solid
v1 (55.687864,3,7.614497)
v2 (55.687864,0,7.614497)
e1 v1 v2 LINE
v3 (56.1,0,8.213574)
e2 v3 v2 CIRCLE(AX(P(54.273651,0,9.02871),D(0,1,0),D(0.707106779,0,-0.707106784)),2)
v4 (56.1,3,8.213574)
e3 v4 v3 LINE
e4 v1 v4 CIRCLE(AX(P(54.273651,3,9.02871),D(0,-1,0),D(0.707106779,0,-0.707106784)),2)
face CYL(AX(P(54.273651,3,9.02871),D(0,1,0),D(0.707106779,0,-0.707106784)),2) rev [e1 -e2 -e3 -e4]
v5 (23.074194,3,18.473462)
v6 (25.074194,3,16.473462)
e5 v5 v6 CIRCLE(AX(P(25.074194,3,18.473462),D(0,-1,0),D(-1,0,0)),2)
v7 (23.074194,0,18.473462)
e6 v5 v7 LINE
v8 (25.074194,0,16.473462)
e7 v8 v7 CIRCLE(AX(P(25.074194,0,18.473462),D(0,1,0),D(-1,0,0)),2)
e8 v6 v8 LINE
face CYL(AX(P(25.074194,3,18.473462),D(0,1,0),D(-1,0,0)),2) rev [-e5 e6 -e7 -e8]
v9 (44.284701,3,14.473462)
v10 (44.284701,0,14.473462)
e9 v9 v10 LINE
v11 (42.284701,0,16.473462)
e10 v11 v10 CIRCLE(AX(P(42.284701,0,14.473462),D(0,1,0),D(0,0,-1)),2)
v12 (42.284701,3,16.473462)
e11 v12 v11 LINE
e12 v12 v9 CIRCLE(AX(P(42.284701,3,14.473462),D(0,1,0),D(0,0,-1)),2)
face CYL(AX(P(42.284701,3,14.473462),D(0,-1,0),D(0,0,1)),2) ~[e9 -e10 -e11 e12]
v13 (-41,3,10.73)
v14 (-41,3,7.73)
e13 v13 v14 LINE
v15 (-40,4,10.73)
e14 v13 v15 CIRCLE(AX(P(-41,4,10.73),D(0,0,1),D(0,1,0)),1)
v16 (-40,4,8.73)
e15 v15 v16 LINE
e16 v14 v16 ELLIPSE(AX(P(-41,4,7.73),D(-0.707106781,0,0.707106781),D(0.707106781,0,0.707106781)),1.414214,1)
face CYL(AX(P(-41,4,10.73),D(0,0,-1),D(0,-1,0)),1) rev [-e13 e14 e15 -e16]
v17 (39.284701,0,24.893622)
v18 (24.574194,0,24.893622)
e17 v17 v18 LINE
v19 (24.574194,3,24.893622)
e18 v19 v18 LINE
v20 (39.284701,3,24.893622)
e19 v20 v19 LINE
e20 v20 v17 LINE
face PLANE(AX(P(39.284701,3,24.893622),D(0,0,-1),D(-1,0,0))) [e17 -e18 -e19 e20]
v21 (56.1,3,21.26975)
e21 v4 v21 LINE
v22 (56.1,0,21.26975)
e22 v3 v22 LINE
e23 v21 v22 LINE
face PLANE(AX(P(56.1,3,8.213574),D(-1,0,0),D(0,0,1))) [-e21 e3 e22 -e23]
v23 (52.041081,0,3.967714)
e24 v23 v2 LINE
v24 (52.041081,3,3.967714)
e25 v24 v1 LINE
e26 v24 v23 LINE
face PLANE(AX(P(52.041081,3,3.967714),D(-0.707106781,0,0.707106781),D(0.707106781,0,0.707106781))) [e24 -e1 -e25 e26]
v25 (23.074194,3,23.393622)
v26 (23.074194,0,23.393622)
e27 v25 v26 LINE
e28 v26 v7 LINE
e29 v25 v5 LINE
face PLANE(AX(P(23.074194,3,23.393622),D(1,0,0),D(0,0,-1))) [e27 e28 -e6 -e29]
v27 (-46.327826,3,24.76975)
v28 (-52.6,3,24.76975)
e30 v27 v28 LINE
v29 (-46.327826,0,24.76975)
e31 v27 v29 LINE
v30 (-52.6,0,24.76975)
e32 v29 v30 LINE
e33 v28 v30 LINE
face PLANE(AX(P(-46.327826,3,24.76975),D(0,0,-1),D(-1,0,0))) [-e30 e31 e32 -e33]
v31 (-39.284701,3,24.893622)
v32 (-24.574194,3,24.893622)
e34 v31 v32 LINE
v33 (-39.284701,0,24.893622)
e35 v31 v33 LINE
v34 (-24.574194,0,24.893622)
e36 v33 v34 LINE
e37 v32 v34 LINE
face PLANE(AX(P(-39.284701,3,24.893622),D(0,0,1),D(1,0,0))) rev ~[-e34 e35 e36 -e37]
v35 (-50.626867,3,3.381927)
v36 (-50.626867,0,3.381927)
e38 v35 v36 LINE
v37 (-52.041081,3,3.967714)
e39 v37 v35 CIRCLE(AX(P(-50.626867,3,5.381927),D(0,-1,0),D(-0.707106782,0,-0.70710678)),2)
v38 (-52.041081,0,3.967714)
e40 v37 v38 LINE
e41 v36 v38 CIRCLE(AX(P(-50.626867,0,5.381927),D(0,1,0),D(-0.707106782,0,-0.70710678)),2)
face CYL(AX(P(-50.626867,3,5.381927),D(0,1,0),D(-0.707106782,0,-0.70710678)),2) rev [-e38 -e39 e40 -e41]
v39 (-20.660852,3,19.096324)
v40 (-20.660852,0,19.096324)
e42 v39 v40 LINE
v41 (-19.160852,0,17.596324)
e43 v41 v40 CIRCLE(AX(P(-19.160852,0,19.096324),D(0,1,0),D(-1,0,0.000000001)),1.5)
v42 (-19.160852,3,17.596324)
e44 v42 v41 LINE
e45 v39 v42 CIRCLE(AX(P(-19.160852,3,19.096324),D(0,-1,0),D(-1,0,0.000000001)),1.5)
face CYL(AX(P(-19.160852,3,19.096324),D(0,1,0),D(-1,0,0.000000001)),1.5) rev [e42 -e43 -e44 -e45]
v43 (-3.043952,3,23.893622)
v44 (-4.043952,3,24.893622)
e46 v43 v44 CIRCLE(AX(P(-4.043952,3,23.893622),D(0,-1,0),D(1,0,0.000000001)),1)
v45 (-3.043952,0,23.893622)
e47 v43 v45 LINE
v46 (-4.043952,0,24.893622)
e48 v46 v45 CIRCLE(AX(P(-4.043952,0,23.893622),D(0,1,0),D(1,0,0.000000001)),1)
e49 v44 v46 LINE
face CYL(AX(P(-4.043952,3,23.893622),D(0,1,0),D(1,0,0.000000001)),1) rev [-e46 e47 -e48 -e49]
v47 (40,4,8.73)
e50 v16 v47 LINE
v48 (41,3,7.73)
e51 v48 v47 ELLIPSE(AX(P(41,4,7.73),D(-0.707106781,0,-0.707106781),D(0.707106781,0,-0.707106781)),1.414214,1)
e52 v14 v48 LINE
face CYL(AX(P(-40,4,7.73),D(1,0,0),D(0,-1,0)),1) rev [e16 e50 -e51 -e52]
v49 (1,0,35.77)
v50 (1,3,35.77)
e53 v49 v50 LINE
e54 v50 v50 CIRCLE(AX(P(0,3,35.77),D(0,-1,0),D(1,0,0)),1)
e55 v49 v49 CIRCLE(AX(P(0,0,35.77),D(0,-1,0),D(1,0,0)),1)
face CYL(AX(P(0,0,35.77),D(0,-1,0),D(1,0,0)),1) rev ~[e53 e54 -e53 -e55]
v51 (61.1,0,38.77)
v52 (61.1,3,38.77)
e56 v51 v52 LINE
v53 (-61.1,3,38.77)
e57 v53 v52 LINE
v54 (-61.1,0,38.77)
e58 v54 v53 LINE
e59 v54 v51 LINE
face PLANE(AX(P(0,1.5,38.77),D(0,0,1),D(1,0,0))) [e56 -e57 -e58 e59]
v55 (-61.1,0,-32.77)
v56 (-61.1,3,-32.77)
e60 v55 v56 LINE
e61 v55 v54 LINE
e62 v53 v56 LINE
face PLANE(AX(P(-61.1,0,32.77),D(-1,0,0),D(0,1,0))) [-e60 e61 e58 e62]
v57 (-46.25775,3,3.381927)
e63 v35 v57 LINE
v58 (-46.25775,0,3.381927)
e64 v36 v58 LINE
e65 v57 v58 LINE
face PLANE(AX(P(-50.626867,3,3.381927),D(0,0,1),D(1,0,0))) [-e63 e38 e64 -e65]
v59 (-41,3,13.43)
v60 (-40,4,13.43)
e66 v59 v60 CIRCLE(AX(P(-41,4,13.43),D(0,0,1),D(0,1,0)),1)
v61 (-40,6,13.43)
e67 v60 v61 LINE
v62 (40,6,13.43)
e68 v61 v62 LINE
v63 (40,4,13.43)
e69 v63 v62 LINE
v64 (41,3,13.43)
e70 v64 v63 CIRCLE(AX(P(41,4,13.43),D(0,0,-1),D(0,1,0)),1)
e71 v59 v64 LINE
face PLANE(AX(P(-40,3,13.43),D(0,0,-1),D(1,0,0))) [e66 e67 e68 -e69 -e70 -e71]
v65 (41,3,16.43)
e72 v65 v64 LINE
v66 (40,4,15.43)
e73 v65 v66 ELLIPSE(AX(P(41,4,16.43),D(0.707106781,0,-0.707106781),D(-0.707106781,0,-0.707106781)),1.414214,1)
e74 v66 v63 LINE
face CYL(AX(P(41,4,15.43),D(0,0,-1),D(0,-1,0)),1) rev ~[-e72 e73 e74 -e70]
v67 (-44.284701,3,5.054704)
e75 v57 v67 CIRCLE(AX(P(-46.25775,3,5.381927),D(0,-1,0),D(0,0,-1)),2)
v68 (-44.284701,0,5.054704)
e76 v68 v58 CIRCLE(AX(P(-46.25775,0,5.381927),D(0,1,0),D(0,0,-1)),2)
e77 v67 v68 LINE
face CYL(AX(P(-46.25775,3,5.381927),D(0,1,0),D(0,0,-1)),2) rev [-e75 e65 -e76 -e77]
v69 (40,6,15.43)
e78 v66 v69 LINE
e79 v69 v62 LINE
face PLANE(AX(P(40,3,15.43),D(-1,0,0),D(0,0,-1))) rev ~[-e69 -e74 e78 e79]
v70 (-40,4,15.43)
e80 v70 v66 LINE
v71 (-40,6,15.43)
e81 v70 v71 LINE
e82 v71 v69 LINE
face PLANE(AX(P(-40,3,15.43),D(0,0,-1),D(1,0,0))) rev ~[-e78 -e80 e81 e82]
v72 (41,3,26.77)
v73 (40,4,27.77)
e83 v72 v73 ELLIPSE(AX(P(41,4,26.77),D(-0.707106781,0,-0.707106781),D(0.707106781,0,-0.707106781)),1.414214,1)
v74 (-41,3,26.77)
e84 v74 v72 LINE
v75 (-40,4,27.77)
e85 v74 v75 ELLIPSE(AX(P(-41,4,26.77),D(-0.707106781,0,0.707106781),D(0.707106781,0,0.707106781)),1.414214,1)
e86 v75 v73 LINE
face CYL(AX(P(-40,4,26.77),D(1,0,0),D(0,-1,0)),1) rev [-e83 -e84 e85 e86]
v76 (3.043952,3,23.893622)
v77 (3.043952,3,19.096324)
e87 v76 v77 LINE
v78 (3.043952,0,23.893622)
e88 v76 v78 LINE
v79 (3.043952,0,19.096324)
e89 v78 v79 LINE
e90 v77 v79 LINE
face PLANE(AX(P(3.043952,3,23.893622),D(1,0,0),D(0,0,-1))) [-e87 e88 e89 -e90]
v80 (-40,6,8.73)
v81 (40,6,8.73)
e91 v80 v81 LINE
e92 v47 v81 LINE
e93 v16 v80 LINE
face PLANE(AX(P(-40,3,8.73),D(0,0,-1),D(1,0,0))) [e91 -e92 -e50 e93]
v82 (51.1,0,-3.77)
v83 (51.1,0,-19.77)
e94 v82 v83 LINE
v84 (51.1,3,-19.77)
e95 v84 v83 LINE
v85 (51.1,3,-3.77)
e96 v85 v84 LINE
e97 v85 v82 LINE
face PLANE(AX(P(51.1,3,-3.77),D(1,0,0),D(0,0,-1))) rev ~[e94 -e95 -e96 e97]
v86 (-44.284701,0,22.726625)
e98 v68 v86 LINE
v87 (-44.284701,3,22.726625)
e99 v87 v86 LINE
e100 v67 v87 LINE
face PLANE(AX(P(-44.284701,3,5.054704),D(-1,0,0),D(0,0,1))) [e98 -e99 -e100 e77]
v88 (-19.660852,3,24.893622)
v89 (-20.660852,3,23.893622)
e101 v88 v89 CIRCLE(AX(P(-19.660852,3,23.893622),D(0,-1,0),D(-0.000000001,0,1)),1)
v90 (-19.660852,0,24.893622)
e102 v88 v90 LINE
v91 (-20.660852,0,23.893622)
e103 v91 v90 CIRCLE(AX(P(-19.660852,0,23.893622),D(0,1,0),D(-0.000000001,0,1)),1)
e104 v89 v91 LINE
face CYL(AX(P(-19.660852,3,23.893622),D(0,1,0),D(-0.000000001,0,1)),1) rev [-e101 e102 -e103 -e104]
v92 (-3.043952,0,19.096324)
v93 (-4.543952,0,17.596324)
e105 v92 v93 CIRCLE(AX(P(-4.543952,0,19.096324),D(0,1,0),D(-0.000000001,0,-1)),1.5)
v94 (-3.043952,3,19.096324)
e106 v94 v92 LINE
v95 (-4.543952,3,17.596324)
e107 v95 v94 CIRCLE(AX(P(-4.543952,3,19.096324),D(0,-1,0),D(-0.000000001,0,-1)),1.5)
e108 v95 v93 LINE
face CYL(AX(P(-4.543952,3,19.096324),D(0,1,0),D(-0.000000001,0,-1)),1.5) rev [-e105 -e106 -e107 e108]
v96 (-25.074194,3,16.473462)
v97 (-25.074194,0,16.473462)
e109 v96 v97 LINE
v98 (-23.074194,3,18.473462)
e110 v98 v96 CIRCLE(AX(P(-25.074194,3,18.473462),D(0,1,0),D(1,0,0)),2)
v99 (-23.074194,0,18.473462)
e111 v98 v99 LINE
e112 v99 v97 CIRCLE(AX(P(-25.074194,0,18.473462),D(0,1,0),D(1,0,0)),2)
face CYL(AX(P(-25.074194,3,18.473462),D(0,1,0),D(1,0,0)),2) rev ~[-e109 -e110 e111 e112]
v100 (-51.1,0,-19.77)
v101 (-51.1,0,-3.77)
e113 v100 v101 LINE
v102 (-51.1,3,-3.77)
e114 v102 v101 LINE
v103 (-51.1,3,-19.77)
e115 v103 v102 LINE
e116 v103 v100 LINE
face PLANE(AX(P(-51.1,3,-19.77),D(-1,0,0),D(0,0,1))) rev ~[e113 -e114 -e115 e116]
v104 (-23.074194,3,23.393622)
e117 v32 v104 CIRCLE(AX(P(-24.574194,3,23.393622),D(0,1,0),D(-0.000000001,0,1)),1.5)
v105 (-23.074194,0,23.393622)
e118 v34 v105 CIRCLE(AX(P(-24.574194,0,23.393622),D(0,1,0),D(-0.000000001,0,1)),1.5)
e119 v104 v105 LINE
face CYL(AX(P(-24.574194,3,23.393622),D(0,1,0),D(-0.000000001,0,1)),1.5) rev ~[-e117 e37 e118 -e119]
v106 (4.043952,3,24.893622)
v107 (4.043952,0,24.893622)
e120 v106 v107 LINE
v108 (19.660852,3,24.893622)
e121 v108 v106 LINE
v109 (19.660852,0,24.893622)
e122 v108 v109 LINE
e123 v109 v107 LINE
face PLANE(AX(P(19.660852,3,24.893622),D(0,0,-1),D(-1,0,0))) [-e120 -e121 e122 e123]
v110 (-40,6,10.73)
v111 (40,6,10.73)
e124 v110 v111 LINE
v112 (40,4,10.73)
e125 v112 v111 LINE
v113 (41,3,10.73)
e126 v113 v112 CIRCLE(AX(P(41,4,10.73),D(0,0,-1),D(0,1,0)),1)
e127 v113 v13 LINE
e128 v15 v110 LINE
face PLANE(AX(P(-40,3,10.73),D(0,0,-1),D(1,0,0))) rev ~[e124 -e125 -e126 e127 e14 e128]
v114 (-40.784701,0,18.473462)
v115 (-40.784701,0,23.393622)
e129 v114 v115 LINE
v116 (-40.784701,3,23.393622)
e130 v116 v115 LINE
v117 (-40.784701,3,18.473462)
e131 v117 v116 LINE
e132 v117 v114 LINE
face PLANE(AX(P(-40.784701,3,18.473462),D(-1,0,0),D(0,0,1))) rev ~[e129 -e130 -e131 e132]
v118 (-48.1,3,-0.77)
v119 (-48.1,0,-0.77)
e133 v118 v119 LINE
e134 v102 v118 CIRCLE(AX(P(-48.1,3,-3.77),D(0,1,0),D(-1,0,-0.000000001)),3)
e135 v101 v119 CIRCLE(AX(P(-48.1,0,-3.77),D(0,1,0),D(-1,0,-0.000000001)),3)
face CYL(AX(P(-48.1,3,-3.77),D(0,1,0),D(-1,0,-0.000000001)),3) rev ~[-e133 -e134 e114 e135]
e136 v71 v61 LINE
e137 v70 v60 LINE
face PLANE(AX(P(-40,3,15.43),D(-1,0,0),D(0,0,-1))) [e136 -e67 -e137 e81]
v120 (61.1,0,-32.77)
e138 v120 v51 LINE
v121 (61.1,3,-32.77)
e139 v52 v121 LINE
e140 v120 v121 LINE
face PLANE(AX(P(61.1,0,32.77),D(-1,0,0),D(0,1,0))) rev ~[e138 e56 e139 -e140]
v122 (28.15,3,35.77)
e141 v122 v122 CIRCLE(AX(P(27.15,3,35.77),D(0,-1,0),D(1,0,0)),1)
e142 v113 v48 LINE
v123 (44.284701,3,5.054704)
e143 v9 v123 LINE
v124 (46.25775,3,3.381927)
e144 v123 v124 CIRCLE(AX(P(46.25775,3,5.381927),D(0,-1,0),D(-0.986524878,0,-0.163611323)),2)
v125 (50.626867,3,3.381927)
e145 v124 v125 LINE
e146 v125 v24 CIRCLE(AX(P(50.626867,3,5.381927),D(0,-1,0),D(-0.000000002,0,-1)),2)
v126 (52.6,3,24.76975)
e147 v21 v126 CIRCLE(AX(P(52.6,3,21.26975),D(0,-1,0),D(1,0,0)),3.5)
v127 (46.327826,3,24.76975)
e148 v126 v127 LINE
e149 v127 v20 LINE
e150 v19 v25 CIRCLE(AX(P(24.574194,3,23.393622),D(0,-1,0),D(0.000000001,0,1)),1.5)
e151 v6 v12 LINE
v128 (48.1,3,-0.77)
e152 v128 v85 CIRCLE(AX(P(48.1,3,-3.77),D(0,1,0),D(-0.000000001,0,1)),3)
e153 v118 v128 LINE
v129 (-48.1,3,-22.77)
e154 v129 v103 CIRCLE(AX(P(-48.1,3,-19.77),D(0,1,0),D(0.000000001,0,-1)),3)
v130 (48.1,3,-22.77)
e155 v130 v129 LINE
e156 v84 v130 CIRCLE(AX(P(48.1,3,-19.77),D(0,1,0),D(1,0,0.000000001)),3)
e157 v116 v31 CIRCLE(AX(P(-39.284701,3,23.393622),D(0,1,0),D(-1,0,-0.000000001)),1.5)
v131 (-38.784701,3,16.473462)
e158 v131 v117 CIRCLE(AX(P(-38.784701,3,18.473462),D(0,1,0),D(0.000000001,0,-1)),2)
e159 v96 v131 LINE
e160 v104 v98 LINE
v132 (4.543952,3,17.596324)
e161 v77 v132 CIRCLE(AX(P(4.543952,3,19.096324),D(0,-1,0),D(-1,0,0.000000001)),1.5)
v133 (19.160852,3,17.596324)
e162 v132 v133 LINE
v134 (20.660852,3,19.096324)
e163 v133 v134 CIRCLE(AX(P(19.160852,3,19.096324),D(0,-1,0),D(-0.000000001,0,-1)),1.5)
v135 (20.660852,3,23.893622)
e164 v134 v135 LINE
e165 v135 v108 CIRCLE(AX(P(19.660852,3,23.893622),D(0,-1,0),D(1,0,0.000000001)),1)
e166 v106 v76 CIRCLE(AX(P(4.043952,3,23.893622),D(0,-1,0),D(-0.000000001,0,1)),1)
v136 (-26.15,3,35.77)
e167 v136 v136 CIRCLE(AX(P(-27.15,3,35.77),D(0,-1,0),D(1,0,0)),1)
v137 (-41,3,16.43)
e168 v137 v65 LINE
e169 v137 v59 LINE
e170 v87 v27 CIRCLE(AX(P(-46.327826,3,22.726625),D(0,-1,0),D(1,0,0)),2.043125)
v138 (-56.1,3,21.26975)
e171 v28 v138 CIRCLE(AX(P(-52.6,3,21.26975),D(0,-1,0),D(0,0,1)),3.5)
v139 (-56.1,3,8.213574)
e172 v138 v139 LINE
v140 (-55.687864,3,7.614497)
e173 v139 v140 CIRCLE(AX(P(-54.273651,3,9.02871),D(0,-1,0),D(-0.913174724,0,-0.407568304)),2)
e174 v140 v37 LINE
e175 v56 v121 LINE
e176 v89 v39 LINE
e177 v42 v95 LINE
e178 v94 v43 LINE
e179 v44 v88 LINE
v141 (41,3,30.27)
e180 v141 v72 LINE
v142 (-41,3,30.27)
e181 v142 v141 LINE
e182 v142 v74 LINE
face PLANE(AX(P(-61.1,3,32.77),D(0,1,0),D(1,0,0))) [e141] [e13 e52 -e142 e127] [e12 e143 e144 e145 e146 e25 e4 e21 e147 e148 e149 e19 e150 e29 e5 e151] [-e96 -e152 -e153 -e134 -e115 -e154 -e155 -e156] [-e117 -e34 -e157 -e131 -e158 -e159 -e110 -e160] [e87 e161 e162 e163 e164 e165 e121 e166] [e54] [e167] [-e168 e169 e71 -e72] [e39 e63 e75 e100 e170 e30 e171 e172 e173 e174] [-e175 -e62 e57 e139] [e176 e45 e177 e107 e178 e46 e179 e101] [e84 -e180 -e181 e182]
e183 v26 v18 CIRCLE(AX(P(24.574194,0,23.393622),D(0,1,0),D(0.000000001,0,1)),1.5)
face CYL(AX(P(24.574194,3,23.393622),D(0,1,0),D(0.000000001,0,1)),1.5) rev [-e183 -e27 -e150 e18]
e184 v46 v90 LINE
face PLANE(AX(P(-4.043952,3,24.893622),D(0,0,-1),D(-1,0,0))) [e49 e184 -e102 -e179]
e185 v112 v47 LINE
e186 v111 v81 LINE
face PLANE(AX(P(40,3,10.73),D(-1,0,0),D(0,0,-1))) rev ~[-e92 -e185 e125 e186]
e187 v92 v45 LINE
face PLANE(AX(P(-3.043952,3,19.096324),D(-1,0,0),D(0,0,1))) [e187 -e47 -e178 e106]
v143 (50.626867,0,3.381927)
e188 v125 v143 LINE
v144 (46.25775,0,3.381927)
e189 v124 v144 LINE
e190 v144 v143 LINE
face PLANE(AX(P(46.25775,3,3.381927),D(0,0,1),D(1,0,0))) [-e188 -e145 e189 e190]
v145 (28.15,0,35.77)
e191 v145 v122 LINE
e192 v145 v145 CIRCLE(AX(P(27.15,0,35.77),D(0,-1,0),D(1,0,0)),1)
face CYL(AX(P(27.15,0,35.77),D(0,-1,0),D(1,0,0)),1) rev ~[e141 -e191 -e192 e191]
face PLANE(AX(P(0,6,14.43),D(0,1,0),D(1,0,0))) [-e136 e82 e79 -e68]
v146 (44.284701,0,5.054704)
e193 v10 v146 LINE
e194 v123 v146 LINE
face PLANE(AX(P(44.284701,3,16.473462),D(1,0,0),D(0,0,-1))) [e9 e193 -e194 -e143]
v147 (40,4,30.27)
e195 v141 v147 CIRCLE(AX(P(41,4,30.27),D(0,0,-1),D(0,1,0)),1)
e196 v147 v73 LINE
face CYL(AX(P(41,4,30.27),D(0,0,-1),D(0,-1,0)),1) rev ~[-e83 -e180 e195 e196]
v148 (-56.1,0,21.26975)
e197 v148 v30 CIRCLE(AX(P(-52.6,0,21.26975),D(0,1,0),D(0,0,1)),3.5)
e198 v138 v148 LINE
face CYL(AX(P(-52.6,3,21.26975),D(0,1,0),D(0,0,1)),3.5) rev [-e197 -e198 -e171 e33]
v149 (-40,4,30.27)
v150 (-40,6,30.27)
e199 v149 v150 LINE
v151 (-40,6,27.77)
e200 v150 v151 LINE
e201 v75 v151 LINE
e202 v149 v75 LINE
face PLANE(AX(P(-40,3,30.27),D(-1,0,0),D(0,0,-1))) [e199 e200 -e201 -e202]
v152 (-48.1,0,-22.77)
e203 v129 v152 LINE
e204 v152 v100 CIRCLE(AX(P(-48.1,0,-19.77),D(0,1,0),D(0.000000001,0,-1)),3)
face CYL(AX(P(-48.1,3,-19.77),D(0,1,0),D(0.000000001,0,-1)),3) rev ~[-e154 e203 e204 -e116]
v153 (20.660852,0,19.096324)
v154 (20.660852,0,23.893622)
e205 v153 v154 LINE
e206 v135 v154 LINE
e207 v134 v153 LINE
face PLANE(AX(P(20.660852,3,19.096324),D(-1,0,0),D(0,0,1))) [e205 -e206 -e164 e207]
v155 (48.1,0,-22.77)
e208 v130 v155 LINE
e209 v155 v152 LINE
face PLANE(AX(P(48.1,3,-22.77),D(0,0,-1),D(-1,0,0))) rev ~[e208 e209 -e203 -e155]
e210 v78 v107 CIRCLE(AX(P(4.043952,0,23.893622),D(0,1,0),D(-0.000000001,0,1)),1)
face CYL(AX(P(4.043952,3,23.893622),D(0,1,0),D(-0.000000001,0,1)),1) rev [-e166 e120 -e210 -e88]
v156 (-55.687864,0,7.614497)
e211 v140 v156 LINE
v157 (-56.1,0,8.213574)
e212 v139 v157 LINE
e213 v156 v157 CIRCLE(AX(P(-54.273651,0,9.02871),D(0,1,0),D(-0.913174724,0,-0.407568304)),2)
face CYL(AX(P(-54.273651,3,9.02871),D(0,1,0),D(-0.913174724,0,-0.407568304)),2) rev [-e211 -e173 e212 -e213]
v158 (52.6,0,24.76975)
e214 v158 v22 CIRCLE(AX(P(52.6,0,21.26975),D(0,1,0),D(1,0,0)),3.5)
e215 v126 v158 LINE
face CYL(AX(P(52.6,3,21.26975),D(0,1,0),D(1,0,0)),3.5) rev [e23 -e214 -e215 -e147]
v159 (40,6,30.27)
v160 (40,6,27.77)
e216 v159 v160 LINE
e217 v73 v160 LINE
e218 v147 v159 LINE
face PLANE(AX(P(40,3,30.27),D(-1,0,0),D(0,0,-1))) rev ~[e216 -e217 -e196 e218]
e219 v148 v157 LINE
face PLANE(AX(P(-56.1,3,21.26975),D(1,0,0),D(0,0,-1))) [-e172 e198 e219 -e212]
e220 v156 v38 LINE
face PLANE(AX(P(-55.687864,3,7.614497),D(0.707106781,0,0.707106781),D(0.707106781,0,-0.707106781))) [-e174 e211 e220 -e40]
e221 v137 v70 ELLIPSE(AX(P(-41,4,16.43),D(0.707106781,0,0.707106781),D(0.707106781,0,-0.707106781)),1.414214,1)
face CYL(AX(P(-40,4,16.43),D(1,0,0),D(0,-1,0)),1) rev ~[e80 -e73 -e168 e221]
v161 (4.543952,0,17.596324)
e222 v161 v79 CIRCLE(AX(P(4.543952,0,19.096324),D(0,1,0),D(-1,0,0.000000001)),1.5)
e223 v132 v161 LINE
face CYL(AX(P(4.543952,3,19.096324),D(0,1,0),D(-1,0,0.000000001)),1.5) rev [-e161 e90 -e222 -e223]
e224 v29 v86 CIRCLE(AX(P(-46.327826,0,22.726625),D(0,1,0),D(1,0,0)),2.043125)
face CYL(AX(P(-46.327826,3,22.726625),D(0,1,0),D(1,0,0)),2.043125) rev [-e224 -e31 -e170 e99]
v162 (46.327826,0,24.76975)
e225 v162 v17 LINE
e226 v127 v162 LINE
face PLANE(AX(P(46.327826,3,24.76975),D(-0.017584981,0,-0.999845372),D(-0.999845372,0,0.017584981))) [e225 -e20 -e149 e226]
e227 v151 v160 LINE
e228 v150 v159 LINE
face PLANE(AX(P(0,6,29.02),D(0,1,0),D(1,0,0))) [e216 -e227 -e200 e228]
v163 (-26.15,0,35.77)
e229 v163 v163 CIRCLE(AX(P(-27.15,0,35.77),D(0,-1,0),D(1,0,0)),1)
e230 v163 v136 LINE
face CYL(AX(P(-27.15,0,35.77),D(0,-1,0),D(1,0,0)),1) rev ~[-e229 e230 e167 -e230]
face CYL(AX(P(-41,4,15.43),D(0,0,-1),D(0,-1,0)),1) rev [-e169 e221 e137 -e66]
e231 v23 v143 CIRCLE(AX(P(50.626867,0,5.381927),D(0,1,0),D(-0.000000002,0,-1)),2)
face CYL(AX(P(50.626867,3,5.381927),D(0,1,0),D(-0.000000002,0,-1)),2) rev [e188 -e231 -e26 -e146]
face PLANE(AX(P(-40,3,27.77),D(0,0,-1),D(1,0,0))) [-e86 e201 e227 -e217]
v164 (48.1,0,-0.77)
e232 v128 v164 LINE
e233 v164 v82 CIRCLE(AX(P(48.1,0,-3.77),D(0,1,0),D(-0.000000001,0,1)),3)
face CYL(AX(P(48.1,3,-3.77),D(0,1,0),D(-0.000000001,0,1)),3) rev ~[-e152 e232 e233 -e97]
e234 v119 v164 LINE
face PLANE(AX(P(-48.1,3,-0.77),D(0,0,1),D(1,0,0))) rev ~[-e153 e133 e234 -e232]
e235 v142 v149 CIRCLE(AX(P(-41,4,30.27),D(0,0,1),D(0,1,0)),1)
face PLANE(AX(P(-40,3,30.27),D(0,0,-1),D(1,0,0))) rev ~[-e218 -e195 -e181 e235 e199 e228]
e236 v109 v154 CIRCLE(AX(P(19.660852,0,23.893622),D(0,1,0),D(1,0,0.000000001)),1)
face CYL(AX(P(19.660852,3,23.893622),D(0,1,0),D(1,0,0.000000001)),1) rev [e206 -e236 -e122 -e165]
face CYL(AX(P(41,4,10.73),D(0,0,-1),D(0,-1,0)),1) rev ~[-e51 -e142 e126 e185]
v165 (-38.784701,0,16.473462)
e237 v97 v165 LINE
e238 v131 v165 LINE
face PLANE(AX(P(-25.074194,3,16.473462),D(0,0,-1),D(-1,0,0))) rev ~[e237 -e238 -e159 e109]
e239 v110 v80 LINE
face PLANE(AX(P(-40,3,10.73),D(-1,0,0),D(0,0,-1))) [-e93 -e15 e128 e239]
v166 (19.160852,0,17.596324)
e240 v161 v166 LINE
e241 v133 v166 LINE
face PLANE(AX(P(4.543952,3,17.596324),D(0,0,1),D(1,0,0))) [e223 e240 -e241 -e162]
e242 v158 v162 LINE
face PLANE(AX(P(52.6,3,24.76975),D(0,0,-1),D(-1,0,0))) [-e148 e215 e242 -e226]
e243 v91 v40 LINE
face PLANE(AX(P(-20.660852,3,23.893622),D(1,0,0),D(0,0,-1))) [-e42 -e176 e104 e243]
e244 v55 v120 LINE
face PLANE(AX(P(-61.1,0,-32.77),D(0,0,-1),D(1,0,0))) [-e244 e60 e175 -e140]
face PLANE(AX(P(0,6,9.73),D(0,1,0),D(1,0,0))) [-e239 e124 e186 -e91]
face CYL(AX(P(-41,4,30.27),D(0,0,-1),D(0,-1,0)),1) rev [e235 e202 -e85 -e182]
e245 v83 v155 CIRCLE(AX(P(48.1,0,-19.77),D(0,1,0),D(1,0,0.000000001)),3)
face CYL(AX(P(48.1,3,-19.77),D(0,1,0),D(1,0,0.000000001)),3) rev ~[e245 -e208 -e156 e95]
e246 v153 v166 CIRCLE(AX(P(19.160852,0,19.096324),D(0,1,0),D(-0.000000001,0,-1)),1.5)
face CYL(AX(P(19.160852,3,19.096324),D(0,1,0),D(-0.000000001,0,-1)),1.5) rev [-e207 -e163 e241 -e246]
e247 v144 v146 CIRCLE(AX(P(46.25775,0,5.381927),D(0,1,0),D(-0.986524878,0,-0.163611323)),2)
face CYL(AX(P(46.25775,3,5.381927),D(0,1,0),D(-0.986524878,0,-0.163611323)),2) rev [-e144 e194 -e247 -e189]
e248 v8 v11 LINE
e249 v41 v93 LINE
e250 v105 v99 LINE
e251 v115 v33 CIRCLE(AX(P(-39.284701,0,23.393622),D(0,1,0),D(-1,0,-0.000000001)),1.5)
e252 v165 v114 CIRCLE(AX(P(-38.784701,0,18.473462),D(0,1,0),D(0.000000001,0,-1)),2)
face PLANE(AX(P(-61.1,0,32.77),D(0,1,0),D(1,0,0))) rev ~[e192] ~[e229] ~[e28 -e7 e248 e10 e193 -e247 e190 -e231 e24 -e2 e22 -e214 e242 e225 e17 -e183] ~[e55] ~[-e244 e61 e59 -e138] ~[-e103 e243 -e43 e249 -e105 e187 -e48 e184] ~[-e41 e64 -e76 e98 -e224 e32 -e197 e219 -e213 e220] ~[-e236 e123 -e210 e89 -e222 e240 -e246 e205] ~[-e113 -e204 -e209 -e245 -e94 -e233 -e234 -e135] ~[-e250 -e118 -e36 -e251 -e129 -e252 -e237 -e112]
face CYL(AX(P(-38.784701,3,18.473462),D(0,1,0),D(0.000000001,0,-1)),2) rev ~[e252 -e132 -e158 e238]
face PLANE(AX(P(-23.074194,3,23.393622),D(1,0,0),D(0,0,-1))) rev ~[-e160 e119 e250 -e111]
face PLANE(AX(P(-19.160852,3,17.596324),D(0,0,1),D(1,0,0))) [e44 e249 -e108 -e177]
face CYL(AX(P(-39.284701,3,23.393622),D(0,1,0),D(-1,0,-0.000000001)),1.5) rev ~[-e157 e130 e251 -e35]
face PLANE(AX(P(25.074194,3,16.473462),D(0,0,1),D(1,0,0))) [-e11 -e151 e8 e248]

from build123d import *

# Parameters (mm, degrees)
SKETCH1_W           = 122.2
SKETCH1_H           = 65.54
BOSS_EXTRUDE1_DEPTH = 3
SKETCH2_W           = 80
SKETCH2_H           = 2
BOSS_EXTRUDE2_DEPTH = 10
FILLET1_R           = 1
SKETCH3_W           = 80
SKETCH3_H           = 2
CUT_EXTRUDE1_DEPTH  = 7
SKETCH4_W           = 80
SKETCH4_H           = 2.5
BOSS_EXTRUDE3_DEPTH = 3
FILLET2_R           = 1
CUT_EXTRUDE2_DEPTH  = 10
CUT_EXTRUDE3_DEPTH  = 10
SKETCH7_W           = 122.2
SKETCH7_H           = 3
BOSS_EXTRUDE4_DEPTH = 6
SKETCH8_R           = 1
CUT_EXTRUDE4_DEPTH  = 6
FILLET3_R           = 2


with BuildPart() as part:
    # Sketch1 → Boss-Extrude1 (new body)
    with BuildSketch(Plane(origin=(0, 0, 0), x_dir=(1, 0, 0), z_dir=(0, 1, 0))):
        Rectangle(SKETCH1_W, SKETCH1_H)
    extrude(amount=BOSS_EXTRUDE1_DEPTH)

    # Sketch2 → Boss-Extrude2 (add)
    with BuildSketch(Plane(origin=(0, 3, 0), x_dir=(1, 0, 0), z_dir=(0, 1, 0))):
        with Locations((0, -9.73)):
            Rectangle(SKETCH2_W, SKETCH2_H)
        with Locations((0, -14.43)):
            Rectangle(SKETCH2_W, SKETCH2_H)
    extrude(amount=BOSS_EXTRUDE2_DEPTH)

    # Fillet1
    fillet1_edges = [part.edges().sort_by_distance(p)[0] for p in [
        (40, 3, 14.43),
        (0, 3, 15.43),
        (-40, 3, 14.43),
        (40, 3, 9.73),
        (0, 3, 8.73),
        (-40, 3, 9.73),
    ]]
    fillet(fillet1_edges, radius=FILLET1_R)

    # Sketch3 → Cut-Extrude1 (cut)
    with BuildSketch(Plane(origin=(0, 13, 0), x_dir=(1, 0, 0), z_dir=(0, 1, 0))):
        with Locations((0, -9.73)):
            Rectangle(SKETCH3_W, SKETCH3_H)
        with Locations((0, -14.43)):
            Rectangle(SKETCH3_W, SKETCH3_H)
    extrude(amount=-CUT_EXTRUDE1_DEPTH, mode=Mode.SUBTRACT)

    # Sketch4 → Boss-Extrude3 (add)
    with BuildSketch(Plane(origin=(0, 3, 0), x_dir=(1, 0, 0), z_dir=(0, 1, 0))):
        with Locations((0, -29.02)):
            Rectangle(SKETCH4_W, SKETCH4_H)
    boss_extrude3 = extrude(amount=BOSS_EXTRUDE3_DEPTH)

    # Fillet2
    fillet2_edges = [part.edges().sort_by_distance(p)[0] for p in [
        (40, 3, 29.02),
        (0, 3, 27.77),
        (-40, 3, 29.02),
    ]]
    fillet(fillet2_edges, radius=FILLET2_R)

    # Mirror1: Boss-Extrude3 across plane
    add(boss_extrude3.mirror(Plane.ZY))

    # Sketch5 → Cut-Extrude2 (cut)
    with BuildSketch(Plane(origin=(0, 3, 0), x_dir=(1, 0, 0), z_dir=(0, 1, 0))):
        with BuildLine():
            Line((48.1, 22.77), (6.311514948, 22.77))
            Line((6.311514948, 22.77), (-48.1, 22.77))
            ThreePointArc((-48.1, 22.77), (-50.221320344, 21.891320344), (-51.1, 19.77))
            Line((-51.1, 19.77), (-51.1, 3.77))
            ThreePointArc((-51.1, 3.77), (-50.221320344, 1.648679656), (-48.1, 0.77))
            Line((-48.1, 0.77), (48.1, 0.77))
            ThreePointArc((48.1, 0.77), (50.221320344, 1.648679656), (51.1, 3.77))
            Line((51.1, 3.77), (51.1, 19.77))
            ThreePointArc((51.1, 19.77), (50.221320344, 21.891320344), (48.1, 22.77))
        make_face()
    extrude(amount=-CUT_EXTRUDE2_DEPTH, mode=Mode.SUBTRACT)

    # Sketch6 → Cut-Extrude3 (cut)
    with BuildSketch(Plane(origin=(0, 3, 0), x_dir=(1, 0, 0), z_dir=(0, 1, 0))):
        with BuildLine():
            ThreePointArc((24.574193631, -24.893622011), (23.513533459, -24.454282183), (23.074193631, -23.393622011))
            Line((23.074193631, -23.393622011), (23.074193631, -18.473462095))
            ThreePointArc((23.074193631, -18.473462095), (23.659980069, -17.059248532), (25.074193631, -16.473462095))
            Line((25.074193631, -16.473462095), (38.784700518, -16.473462095))
            Line((38.784700518, -16.473462095), (44.284700518, -16.473462095))
            Line((44.284700518, -16.473462095), (44.284700518, -5.054704437))
            ThreePointArc((44.284700518, -5.054704437), (44.964391332, -3.856403354), (46.257750275, -3.381927082))
            Line((46.257750275, -3.381927082), (50.626867349, -3.381927082))
            ThreePointArc((50.626867349, -3.381927082), (51.392234214, -3.534168016), (52.041080911, -3.967713519))
            Line((52.041080911, -3.967713519), (55.687864116, -7.614496724))
            ThreePointArc((55.687864116, -7.614496724), (55.921387017, -7.895147518), (56.1, -8.213573672))
            Line((56.1, -8.213573672), (56.1, -21.269749634))
            ThreePointArc((56.1, -21.269749634), (55.074873734, -23.744623369), (52.6, -24.769749634))
            Line((52.6, -24.769749634), (46.32782558, -24.769749634))
            Line((46.32782558, -24.769749634), (39.284700518, -24.893622011))
            Line((39.284700518, -24.893622011), (24.574193631, -24.893622011))
        make_face()
        with BuildLine():
            ThreePointArc((20.660852384, -23.893622011), (20.367959165, -24.600728792), (19.660852384, -24.893622011))
            Line((19.660852384, -24.893622011), (4.043952302, -24.893622011))
            ThreePointArc((4.043952302, -24.893622011), (3.336845521, -24.600728792), (3.043952302, -23.893622011))
            Line((3.043952302, -23.893622011), (3.043952302, -19.096324264))
            ThreePointArc((3.043952302, -19.096324264), (3.48329213, -18.035664092), (4.543952302, -17.596324264))
            Line((4.543952302, -17.596324264), (19.160852384, -17.596324264))
            ThreePointArc((19.160852384, -17.596324264), (20.221512556, -18.035664092), (20.660852384, -19.096324264))
            Line((20.660852384, -19.096324264), (20.660852384, -23.893622011))
        make_face()
        with BuildLine():
            ThreePointArc((-20.660852384, -19.096324264), (-20.221512556, -18.035664092), (-19.160852384, -17.596324264))
            Line((-19.160852384, -17.596324264), (-4.543952302, -17.596324264))
            ThreePointArc((-4.543952302, -17.596324264), (-3.48329213, -18.035664092), (-3.043952302, -19.096324264))
            Line((-3.043952302, -19.096324264), (-3.043952302, -23.893622011))
            ThreePointArc((-3.043952302, -23.893622011), (-3.336845521, -24.600728792), (-4.043952302, -24.893622011))
            Line((-4.043952302, -24.893622011), (-19.660852384, -24.893622011))
            ThreePointArc((-19.660852384, -24.893622011), (-20.367959165, -24.600728792), (-20.660852384, -23.893622011))
            Line((-20.660852384, -23.893622011), (-20.660852384, -19.096324264))
        make_face()
        with BuildLine():
            Line((-56.1, -21.269749634), (-56.1, -8.213573672))
            ThreePointArc((-56.1, -8.213573672), (-55.921387017, -7.895147518), (-55.687864116, -7.614496724))
            Line((-55.687864116, -7.614496724), (-52.041080911, -3.967713519))
            ThreePointArc((-52.041080911, -3.967713519), (-51.392234214, -3.534168016), (-50.626867349, -3.381927082))
            Line((-50.626867349, -3.381927082), (-46.257750275, -3.381927082))
            ThreePointArc((-46.257750275, -3.381927082), (-44.964391332, -3.856403354), (-44.284700518, -5.054704437))
            Line((-44.284700518, -5.054704437), (-44.284700518, -22.726624573))
            ThreePointArc((-44.284700518, -22.726624573), (-44.883117994, -24.171332159), (-46.32782558, -24.769749634))
            Line((-46.32782558, -24.769749634), (-52.6, -24.769749634))
            ThreePointArc((-52.6, -24.769749634), (-55.074873734, -23.744623369), (-56.1, -21.269749634))
        make_face()
        with BuildLine():
            Line((-39.284700518, -24.893622011), (-24.574193631, -24.893622011))
            ThreePointArc((-24.574193631, -24.893622011), (-23.513533459, -24.454282183), (-23.074193631, -23.393622011))
            Line((-23.074193631, -23.393622011), (-23.074193631, -18.473462095))
            ThreePointArc((-23.074193631, -18.473462095), (-23.659980069, -17.059248532), (-25.074193631, -16.473462095))
            Line((-25.074193631, -16.473462095), (-38.784700518, -16.473462095))
            ThreePointArc((-38.784700518, -16.473462095), (-40.198914081, -17.059248532), (-40.784700518, -18.473462095))
            Line((-40.784700518, -18.473462095), (-40.784700518, -23.393622011))
            ThreePointArc((-40.784700518, -23.393622011), (-40.34536069, -24.454282183), (-39.284700518, -24.893622011))
        make_face()
    extrude(amount=-CUT_EXTRUDE3_DEPTH, mode=Mode.SUBTRACT)

    # Sketch7 → Boss-Extrude4 (add)
    with BuildSketch(Plane.XY.offset(32.77)):
        with Locations((0, 1.5)):
            Rectangle(SKETCH7_W, SKETCH7_H)
    extrude(amount=BOSS_EXTRUDE4_DEPTH)

    # Sketch8 → Cut-Extrude4 (cut)
    with BuildSketch(Plane.XZ):
        with Locations((0, 35.77)):
            Circle(SKETCH8_R)
        with Locations((-27.15, 35.77)):
            Circle(SKETCH8_R)
        with Locations((27.15, 35.77)):
            Circle(SKETCH8_R)
    extrude(amount=-CUT_EXTRUDE4_DEPTH, mode=Mode.SUBTRACT)

    # Fillet3
    fillet3_edges = [part.edges().sort_by_distance(p)[0] for p in [
        (44.284700518, 1.5, 16.473462095),
    ]]
    fillet(fillet3_edges, radius=FILLET3_R)


solid = part.part
